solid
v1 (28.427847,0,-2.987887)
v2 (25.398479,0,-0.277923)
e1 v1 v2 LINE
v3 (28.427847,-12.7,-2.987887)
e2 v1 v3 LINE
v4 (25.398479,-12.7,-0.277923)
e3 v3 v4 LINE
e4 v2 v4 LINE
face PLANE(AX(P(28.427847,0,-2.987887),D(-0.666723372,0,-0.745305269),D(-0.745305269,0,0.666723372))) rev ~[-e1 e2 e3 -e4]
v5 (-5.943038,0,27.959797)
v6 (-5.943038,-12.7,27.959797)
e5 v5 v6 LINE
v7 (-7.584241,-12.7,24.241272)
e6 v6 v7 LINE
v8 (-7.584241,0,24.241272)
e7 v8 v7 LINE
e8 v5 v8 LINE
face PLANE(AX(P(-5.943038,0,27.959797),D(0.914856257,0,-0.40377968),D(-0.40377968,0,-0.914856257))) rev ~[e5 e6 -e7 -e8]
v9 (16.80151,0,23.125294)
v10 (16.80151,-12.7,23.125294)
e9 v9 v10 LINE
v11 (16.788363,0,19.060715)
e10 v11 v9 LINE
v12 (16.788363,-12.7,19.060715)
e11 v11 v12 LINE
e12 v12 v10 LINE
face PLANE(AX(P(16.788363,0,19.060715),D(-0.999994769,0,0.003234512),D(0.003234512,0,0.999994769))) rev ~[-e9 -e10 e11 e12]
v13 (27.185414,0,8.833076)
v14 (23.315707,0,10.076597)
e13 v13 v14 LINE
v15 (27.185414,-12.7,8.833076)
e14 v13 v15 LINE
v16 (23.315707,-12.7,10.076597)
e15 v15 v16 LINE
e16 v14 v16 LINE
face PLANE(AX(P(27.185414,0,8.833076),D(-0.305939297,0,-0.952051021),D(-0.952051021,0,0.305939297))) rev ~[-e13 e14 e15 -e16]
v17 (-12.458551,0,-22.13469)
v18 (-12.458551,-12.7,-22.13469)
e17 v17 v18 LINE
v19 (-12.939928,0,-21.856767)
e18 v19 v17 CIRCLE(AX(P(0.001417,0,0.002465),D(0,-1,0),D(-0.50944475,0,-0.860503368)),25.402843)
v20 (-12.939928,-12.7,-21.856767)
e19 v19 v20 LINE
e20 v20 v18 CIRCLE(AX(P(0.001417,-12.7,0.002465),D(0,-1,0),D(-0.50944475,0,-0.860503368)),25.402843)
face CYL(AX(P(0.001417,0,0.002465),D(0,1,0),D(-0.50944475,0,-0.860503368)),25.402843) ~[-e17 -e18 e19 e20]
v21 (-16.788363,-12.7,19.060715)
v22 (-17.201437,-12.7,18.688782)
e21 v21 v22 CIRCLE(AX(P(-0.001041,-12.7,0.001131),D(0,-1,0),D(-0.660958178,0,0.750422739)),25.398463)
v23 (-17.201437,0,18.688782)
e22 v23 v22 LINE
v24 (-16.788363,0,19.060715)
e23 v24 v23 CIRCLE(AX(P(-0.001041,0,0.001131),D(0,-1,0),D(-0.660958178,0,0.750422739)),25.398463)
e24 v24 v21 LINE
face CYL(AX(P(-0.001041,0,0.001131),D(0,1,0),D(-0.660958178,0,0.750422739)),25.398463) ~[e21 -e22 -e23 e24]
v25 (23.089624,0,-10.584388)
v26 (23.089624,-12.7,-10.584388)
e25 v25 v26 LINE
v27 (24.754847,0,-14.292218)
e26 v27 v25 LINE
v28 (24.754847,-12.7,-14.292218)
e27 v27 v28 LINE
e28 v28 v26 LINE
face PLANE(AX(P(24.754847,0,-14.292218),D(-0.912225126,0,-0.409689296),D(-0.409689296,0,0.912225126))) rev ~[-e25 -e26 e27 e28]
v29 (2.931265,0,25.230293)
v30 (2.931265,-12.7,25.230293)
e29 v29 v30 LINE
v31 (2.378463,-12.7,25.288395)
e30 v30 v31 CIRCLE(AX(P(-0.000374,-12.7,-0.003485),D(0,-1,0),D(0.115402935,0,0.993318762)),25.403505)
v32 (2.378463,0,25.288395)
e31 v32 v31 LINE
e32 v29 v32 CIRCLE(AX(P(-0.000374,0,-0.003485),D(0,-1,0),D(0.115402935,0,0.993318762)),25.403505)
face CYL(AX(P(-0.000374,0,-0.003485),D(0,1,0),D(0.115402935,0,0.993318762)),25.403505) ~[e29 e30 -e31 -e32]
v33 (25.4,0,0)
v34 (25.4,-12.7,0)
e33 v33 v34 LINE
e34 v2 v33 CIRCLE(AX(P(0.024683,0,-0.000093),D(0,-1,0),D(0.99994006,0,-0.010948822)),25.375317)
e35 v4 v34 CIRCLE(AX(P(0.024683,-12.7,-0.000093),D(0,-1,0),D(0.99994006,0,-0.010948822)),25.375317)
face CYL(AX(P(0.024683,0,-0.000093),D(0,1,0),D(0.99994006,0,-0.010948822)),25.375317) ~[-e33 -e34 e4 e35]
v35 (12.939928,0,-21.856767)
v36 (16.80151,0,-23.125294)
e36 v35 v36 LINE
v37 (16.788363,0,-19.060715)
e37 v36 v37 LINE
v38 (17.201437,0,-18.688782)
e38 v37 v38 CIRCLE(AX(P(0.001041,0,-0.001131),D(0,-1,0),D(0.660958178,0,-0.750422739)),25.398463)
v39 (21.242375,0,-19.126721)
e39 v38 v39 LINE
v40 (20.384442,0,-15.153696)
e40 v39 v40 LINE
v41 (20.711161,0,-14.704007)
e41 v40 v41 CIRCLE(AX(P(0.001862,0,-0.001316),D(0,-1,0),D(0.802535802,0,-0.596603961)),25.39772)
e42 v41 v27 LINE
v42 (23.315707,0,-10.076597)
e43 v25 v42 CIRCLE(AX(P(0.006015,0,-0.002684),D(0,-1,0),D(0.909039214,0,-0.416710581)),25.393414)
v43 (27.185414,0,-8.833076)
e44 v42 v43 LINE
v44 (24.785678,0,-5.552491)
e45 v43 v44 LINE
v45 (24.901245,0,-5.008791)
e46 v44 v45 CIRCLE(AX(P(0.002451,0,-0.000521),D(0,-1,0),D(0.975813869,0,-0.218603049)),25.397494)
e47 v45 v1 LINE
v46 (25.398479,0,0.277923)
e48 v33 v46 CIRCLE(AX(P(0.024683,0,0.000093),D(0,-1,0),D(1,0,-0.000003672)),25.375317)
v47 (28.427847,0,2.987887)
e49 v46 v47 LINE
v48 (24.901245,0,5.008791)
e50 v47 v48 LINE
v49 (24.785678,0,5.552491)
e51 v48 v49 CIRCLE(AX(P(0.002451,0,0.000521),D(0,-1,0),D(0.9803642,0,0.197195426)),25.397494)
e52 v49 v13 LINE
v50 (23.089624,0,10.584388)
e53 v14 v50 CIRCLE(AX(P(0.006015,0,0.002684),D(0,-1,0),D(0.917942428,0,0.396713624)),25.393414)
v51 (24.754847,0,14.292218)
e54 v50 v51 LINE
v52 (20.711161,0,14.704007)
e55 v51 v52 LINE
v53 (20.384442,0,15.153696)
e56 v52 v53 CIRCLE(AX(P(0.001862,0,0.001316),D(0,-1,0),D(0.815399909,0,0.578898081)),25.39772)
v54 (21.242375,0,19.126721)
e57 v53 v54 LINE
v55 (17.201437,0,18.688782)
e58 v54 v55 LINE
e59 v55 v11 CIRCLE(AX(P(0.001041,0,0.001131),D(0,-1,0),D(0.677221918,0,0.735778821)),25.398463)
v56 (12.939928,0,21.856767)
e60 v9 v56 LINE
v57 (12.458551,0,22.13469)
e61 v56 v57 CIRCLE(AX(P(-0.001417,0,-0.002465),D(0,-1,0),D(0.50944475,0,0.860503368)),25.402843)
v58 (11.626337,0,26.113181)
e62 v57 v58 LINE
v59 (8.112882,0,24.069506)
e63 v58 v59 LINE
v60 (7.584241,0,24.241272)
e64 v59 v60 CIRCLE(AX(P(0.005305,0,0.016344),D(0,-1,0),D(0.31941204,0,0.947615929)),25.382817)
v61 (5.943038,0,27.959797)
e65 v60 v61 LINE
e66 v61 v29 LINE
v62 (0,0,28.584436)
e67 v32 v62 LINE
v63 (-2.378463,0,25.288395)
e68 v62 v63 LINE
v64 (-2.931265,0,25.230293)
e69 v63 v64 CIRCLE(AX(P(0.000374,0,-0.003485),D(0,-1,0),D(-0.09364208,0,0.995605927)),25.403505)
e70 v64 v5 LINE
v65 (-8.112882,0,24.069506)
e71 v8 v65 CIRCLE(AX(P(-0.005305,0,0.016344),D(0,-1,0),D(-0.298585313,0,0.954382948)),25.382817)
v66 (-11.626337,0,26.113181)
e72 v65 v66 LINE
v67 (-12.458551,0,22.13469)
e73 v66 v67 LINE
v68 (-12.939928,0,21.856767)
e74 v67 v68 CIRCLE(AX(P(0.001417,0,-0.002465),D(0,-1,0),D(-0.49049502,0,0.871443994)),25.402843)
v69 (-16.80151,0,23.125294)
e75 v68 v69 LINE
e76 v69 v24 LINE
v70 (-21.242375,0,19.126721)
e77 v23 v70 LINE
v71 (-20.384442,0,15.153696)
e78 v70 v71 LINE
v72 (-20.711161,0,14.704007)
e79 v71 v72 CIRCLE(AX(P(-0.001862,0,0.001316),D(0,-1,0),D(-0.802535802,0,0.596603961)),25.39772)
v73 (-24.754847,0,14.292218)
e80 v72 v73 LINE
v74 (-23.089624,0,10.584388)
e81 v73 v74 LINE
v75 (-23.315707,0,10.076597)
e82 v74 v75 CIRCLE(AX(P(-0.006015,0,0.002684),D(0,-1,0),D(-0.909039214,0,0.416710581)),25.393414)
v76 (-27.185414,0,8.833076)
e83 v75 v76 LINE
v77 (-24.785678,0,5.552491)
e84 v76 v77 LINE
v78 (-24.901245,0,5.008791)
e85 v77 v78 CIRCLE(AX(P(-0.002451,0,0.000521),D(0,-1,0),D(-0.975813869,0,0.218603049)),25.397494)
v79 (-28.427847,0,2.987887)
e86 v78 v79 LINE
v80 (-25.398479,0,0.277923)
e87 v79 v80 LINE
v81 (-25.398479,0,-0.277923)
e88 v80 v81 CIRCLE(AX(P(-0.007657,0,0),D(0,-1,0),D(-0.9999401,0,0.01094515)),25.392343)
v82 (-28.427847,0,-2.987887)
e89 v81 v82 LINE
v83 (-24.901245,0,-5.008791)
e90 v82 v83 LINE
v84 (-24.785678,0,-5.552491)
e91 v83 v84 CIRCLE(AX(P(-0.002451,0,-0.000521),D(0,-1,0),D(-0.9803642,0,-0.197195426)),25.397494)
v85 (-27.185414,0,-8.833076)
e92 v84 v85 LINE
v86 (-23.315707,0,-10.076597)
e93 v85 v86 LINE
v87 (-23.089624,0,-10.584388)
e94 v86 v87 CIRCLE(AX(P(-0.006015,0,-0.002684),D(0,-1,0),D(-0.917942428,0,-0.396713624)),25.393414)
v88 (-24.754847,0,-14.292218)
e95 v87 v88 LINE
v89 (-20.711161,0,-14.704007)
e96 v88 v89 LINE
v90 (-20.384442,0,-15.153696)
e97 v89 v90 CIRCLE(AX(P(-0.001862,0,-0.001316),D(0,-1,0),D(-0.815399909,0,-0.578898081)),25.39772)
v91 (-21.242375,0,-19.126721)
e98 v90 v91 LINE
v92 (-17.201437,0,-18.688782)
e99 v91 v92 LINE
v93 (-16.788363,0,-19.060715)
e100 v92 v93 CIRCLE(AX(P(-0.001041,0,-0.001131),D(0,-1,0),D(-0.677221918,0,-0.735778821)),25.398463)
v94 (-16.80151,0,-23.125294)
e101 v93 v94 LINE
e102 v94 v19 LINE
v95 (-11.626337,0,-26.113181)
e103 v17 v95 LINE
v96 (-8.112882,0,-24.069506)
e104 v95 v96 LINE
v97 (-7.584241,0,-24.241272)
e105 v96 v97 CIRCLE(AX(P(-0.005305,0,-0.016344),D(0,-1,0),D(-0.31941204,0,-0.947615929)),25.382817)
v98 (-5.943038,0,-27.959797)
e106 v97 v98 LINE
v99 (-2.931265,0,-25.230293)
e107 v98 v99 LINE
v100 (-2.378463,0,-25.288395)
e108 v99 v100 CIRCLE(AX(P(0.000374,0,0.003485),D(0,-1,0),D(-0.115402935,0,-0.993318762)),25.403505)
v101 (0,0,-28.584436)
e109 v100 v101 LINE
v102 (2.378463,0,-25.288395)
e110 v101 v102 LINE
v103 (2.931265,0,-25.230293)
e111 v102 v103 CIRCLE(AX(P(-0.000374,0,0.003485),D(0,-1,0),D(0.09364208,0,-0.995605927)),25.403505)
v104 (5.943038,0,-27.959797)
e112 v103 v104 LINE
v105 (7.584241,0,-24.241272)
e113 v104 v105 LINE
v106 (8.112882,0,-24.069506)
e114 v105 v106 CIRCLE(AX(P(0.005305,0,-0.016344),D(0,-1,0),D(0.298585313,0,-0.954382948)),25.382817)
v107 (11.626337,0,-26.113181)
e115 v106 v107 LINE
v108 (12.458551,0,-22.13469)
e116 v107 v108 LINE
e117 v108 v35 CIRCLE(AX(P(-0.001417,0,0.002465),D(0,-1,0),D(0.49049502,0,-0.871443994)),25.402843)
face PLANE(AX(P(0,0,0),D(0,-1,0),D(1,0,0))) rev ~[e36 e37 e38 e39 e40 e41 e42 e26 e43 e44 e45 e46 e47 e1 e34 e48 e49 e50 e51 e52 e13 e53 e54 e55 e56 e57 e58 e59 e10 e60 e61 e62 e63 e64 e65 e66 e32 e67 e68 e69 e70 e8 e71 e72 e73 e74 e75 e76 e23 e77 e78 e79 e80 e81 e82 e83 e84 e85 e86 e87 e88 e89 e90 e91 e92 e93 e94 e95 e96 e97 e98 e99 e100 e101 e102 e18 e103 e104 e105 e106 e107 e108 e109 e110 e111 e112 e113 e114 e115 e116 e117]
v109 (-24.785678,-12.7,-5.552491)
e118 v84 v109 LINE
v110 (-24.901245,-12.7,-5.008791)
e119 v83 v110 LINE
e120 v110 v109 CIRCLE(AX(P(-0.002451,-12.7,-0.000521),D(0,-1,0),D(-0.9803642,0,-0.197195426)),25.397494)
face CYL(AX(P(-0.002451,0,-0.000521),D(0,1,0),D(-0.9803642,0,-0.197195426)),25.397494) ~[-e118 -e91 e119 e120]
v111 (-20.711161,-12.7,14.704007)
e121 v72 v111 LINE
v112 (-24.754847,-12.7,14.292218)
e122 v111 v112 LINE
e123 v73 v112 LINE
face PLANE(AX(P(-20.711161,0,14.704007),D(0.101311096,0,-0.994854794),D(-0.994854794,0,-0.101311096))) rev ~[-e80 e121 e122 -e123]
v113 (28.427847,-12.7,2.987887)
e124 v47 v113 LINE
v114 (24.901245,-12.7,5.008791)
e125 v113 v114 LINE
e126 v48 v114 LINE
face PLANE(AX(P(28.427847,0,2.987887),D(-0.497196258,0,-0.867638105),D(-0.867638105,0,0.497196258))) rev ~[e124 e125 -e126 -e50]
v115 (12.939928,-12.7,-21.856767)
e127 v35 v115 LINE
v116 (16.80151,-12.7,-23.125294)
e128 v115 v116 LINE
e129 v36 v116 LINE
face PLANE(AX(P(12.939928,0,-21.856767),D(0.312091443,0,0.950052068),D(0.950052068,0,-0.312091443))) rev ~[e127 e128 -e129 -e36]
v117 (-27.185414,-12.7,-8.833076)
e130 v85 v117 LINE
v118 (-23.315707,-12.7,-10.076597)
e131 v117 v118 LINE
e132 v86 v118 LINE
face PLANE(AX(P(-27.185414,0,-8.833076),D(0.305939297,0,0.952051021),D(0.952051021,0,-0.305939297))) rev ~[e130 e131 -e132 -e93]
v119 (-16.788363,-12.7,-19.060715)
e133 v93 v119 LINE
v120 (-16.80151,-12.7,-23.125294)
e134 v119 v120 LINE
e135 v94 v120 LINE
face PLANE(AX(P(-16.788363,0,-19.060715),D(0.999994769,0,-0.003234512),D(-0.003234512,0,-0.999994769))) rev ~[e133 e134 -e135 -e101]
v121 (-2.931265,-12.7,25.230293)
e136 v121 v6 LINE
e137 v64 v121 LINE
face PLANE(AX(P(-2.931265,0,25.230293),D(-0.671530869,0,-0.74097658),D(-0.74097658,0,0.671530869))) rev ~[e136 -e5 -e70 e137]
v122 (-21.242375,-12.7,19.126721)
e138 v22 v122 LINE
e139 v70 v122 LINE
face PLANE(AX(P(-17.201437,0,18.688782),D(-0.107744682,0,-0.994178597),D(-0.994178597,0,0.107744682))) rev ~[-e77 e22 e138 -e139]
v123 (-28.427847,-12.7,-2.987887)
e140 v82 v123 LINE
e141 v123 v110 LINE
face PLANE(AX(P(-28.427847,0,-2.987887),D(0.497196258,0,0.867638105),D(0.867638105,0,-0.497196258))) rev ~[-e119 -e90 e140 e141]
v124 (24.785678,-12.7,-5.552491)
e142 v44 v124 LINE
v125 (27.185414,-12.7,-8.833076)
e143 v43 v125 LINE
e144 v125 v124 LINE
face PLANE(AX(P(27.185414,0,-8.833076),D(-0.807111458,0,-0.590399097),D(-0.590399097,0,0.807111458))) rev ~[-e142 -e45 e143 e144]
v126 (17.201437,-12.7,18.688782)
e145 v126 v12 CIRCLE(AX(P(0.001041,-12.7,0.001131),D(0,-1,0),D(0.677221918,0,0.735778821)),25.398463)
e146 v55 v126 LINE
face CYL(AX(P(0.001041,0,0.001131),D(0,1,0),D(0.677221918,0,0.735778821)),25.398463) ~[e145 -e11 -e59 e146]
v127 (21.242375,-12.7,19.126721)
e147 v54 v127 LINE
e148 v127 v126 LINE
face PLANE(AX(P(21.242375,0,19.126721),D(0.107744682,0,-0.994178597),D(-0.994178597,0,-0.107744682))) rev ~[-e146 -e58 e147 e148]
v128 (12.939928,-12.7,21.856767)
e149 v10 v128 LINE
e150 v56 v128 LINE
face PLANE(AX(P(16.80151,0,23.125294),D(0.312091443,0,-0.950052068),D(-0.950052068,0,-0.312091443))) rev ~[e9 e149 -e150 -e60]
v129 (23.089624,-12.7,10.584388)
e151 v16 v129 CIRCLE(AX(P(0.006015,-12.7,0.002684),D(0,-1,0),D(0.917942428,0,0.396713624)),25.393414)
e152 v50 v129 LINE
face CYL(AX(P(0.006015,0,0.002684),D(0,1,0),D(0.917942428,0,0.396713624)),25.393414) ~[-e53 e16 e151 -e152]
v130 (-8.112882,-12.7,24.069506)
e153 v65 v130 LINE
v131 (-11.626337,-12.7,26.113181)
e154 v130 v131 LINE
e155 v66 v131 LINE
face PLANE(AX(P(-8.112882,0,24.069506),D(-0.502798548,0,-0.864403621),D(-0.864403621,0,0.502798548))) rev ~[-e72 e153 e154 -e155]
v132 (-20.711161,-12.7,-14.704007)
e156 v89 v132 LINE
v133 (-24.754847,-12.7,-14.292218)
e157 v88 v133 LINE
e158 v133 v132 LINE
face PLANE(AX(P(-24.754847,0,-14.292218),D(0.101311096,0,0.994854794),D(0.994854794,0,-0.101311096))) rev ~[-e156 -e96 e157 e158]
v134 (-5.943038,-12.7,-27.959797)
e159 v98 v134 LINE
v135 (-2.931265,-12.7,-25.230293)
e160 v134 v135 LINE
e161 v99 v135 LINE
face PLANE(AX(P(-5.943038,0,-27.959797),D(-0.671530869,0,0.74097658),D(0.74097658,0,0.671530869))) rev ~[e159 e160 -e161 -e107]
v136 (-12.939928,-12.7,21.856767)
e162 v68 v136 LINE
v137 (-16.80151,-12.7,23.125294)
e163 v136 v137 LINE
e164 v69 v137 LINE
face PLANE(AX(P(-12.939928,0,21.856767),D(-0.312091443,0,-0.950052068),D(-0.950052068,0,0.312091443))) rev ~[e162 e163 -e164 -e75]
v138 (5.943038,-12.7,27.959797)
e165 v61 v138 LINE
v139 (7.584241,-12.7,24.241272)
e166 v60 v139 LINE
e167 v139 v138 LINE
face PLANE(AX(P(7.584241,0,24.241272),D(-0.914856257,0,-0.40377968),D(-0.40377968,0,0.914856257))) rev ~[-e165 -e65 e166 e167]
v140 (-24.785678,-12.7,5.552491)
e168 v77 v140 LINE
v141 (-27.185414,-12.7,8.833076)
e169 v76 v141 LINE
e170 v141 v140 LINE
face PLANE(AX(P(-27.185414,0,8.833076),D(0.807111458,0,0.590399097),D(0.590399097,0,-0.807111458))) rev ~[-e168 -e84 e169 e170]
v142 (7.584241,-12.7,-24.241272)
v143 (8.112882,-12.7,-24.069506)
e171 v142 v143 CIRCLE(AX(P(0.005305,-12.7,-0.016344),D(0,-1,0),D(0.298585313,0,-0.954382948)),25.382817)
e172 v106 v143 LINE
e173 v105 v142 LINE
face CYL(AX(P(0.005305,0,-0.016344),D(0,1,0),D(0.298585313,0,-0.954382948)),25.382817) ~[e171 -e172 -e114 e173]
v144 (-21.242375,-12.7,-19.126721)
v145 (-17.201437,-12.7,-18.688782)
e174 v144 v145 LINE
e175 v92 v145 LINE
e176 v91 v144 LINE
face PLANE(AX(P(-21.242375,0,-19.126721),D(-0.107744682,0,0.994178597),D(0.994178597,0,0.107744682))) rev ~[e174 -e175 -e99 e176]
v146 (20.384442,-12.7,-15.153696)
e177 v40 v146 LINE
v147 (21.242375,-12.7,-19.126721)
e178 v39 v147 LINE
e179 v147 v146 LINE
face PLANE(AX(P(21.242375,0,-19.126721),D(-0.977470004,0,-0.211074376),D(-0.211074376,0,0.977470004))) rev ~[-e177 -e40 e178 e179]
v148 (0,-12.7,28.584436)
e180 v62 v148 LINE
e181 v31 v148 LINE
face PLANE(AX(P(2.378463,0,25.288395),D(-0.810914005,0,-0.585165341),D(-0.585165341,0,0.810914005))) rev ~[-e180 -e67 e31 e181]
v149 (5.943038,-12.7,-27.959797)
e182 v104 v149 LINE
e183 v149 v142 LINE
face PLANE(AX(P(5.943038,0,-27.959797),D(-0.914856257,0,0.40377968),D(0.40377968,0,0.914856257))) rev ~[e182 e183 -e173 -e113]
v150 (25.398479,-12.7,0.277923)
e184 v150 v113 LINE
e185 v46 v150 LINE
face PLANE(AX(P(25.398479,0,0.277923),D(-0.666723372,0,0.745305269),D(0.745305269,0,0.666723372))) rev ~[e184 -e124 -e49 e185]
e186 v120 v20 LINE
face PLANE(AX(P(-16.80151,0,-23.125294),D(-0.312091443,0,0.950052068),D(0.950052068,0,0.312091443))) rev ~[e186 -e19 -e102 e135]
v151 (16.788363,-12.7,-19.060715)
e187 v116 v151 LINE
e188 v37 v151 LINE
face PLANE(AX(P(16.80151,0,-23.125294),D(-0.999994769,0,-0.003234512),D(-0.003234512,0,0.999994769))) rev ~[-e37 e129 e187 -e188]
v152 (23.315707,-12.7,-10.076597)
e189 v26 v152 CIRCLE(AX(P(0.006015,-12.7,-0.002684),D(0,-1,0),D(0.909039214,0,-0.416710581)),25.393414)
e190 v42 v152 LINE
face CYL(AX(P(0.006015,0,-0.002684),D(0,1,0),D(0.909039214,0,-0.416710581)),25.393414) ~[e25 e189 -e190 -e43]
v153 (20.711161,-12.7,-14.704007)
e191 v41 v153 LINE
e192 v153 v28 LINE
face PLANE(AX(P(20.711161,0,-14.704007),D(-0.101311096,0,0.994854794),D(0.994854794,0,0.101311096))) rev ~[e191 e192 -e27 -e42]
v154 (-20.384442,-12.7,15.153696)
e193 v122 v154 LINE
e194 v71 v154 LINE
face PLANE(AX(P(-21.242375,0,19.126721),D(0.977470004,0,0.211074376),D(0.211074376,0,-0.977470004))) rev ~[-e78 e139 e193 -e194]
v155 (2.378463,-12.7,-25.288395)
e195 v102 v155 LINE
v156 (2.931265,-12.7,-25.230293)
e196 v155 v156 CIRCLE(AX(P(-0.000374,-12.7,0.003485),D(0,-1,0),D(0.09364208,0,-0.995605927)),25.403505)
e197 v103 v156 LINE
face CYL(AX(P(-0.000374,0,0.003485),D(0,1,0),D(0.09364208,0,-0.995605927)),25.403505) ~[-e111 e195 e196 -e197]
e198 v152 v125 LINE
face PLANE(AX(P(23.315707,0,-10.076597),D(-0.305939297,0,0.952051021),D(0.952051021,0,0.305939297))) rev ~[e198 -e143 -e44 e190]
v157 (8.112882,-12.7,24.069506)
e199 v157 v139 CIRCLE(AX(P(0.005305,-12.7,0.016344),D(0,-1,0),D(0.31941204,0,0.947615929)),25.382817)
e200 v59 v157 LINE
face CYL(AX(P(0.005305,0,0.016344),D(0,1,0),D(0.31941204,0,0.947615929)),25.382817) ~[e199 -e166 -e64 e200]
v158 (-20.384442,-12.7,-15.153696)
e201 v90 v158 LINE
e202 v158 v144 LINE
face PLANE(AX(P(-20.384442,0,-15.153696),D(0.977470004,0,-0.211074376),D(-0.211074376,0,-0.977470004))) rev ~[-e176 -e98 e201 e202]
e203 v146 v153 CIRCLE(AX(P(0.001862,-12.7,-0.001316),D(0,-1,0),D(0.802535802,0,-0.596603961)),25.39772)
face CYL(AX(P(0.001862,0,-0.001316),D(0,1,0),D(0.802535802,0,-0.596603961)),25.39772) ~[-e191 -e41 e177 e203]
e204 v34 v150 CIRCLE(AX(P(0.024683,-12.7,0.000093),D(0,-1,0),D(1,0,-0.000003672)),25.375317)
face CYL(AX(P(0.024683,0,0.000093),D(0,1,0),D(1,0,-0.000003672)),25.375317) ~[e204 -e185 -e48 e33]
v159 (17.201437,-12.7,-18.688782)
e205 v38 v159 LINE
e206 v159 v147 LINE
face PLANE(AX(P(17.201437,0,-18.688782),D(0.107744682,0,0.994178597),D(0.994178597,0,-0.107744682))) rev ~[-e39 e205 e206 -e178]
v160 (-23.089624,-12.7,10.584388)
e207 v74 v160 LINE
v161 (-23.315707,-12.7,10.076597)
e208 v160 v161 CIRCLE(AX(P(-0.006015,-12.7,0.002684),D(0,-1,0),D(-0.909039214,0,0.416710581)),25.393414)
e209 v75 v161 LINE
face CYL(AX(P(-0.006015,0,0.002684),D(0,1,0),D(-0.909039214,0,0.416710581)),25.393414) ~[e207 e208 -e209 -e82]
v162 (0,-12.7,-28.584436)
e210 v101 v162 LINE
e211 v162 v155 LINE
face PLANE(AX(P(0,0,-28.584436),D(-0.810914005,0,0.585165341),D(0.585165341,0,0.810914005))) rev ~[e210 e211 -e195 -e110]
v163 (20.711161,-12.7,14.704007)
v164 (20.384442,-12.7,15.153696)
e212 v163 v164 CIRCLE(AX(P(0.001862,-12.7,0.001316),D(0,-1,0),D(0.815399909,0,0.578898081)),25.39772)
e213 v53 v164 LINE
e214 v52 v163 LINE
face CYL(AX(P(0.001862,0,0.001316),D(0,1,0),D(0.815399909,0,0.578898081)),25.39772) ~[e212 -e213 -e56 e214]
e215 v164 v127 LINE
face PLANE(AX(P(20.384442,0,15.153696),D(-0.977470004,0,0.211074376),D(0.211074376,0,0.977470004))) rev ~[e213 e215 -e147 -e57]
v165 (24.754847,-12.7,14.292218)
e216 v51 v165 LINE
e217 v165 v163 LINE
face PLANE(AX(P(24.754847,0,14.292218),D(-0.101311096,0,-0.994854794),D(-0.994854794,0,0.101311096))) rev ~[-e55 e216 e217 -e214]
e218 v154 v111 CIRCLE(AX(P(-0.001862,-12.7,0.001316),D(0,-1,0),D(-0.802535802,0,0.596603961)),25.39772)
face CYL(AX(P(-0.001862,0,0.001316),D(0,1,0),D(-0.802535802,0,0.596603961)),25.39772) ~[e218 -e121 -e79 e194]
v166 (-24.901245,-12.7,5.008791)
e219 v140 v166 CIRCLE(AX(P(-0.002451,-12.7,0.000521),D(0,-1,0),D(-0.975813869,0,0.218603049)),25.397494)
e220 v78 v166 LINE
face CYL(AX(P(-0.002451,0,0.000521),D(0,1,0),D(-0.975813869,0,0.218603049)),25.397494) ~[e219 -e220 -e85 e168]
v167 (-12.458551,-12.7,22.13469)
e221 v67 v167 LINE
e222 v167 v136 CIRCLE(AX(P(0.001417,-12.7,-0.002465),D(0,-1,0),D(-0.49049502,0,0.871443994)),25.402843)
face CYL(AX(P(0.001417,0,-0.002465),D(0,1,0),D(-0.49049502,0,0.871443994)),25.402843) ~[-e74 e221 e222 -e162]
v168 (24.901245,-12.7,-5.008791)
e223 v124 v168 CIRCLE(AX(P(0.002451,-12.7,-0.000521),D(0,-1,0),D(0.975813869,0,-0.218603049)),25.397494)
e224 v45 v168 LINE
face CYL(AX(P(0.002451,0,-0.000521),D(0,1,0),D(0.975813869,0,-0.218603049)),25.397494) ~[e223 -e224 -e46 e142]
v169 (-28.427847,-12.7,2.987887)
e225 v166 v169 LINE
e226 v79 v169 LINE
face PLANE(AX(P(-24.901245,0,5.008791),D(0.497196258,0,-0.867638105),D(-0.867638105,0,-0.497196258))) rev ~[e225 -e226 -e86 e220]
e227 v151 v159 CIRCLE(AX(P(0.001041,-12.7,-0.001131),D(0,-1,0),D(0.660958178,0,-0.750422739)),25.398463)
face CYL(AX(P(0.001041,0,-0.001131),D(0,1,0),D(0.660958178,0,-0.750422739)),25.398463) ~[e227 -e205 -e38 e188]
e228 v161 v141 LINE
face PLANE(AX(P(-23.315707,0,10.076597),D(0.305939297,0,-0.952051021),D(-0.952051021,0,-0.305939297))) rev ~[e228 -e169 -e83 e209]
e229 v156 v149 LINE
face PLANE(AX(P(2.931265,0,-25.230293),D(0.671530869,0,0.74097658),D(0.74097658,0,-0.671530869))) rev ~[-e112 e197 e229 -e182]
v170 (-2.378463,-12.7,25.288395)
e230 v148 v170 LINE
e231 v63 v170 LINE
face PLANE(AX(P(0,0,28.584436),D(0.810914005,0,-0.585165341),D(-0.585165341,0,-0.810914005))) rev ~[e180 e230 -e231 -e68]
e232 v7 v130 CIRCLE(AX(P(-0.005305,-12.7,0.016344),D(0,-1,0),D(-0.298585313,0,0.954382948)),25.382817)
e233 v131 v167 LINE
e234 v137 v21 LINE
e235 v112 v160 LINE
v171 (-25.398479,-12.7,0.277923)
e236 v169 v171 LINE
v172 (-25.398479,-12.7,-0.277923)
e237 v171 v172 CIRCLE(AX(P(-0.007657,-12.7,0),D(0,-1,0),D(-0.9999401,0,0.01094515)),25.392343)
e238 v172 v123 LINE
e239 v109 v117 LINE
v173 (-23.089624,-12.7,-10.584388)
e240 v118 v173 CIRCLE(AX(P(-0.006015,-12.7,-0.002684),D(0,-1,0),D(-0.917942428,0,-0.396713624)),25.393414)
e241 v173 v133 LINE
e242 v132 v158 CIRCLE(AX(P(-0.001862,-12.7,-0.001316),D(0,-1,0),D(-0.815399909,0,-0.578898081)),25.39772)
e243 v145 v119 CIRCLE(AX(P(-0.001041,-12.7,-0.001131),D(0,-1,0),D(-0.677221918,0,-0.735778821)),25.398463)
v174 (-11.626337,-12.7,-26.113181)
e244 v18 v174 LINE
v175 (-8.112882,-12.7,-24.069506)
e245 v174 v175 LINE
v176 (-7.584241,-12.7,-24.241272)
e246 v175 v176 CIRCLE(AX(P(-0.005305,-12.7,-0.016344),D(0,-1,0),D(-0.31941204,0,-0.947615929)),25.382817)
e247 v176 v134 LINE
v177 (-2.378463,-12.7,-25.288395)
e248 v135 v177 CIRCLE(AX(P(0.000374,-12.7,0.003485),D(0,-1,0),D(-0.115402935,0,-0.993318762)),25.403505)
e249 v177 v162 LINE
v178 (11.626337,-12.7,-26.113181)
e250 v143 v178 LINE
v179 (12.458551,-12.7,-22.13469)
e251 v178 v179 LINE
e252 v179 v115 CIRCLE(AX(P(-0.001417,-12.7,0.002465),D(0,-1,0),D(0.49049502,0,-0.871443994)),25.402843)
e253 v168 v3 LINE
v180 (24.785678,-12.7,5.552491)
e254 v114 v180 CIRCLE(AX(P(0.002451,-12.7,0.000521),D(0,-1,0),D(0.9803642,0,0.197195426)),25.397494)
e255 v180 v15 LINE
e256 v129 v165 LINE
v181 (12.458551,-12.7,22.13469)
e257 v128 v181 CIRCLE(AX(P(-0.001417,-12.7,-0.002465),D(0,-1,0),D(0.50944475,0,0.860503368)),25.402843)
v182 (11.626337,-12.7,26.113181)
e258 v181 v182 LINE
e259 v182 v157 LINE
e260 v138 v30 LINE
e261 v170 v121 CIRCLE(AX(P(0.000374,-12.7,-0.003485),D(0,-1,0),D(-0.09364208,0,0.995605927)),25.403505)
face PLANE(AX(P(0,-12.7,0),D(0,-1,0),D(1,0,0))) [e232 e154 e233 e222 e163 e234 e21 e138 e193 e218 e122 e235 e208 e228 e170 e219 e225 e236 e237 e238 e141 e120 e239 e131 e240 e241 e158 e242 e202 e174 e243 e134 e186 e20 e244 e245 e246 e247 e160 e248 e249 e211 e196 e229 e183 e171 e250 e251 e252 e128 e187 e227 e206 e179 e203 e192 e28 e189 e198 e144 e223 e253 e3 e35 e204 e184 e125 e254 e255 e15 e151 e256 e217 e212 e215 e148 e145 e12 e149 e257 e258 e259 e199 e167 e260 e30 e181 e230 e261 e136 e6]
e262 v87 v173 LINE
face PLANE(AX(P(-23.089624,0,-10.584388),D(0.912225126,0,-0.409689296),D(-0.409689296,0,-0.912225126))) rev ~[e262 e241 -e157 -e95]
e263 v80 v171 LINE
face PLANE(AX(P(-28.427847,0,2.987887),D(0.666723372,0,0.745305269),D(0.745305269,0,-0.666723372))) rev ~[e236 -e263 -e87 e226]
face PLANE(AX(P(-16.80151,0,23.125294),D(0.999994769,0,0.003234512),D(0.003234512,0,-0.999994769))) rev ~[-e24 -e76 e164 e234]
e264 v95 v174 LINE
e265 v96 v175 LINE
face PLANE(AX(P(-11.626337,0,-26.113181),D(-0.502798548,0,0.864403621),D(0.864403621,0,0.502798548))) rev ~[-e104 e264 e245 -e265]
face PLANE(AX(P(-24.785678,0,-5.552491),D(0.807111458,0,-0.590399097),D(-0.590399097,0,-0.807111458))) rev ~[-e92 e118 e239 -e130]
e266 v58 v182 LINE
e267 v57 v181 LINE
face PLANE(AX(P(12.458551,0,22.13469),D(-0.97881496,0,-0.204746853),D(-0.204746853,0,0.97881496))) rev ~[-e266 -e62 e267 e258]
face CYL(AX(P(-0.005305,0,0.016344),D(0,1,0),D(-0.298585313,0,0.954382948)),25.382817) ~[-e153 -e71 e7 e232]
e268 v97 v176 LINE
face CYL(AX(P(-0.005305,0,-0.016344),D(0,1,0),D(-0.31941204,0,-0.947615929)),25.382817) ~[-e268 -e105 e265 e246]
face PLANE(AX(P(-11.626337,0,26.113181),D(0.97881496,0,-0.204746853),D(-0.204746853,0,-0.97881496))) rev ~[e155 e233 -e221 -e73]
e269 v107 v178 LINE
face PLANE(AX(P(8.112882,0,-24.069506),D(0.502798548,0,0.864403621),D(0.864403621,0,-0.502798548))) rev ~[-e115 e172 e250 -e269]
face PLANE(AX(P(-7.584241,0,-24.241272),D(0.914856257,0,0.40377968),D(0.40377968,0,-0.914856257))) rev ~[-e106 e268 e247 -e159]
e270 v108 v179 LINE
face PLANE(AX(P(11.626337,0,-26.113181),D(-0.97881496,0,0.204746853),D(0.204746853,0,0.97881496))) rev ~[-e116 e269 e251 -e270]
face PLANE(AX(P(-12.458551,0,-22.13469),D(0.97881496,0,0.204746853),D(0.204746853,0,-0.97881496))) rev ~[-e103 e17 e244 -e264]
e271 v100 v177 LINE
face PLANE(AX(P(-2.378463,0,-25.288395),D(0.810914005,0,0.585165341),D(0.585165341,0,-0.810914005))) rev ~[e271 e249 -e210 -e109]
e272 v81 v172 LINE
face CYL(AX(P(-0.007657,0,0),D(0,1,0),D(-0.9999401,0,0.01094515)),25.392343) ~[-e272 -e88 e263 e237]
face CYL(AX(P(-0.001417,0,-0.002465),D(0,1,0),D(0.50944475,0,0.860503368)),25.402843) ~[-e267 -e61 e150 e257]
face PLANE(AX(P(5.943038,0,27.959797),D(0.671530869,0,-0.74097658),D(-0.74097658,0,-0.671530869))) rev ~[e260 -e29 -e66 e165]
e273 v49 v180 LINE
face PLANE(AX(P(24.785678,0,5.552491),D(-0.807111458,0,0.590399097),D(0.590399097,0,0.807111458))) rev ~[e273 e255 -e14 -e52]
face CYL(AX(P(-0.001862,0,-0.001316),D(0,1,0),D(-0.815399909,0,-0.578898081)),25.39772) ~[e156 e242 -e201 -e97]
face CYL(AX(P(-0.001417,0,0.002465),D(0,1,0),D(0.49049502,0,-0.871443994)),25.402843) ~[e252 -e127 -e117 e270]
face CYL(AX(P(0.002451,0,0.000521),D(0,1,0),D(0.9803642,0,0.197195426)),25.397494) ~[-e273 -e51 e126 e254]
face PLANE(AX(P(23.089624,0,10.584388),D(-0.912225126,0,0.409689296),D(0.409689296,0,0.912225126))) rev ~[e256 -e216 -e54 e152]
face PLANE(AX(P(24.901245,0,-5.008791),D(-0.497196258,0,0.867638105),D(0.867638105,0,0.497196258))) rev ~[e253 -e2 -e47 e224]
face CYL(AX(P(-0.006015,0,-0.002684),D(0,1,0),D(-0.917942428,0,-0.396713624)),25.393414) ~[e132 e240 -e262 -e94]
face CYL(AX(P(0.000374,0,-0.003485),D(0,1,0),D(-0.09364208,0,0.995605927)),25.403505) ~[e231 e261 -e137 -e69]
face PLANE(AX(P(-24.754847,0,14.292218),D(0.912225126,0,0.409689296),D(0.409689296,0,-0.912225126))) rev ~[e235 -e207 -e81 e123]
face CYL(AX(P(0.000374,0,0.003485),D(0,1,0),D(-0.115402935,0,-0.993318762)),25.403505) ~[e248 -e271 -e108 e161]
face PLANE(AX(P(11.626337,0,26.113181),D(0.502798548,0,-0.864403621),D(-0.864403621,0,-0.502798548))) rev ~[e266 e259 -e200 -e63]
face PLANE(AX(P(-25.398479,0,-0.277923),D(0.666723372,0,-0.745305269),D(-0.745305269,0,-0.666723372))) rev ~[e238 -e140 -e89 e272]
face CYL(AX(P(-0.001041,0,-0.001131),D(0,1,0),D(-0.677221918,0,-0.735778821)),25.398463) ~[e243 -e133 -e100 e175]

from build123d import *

# Parameters (mm, degrees)
F1_DEPTH = 12.7


with BuildPart() as f1:
    # F0 (on Front) → F1 (new body)
    with BuildSketch(Plane.XZ):
        with BuildLine():
            ThreePointArc((25.398479, -0.277923), (25.39962, -0.138964), (25.4, 0))
            ThreePointArc((25.4, 0), (25.39962, 0.138964), (25.398479, 0.277923))
            ThreePointArc((25.398479, 0.277923), (25.260856, 2.655023), (24.901245, 5.008791))
            ThreePointArc((24.901245, 5.008791), (24.844949, 5.280957), (24.785678, 5.552491))
            ThreePointArc((24.785678, 5.552491), (24.156836, 7.849032), (23.315707, 10.076597))
            ThreePointArc((23.315707, 10.076597), (23.204055, 10.331111), (23.089624, 10.584388))
            ThreePointArc((23.089624, 10.584388), (21.997045, 12.7), (20.711161, 14.704007))
            ThreePointArc((20.711161, 14.704007), (20.549032, 14.929745), (20.384442, 15.153696))
            ThreePointArc((20.384442, 15.153696), (18.875879, 16.995917), (17.201437, 18.688782))
            ThreePointArc((17.201437, 18.688782), (16.995917, 18.875879), (16.788363, 19.060715))
            ThreePointArc((16.788363, 19.060715), (14.929745, 20.549032), (12.939928, 21.856767))
            ThreePointArc((12.939928, 21.856767), (12.7, 21.997045), (12.458551, 22.13469))
            ThreePointArc((12.458551, 22.13469), (10.331111, 23.204055), (8.112882, 24.069506))
            ThreePointArc((8.112882, 24.069506), (7.849032, 24.156836), (7.584241, 24.241272))
            ThreePointArc((7.584241, 24.241272), (5.280957, 24.844949), (2.931265, 25.230293))
            ThreePointArc((2.931265, 25.230293), (2.655023, 25.260856), (2.378463, 25.288395))
            ThreePointArc((2.378463, 25.288395), (0, 25.4), (-2.378463, 25.288395))
            ThreePointArc((-2.378463, 25.288395), (-2.655023, 25.260856), (-2.931265, 25.230293))
            ThreePointArc((-2.931265, 25.230293), (-5.280957, 24.844949), (-7.584241, 24.241272))
            ThreePointArc((-7.584241, 24.241272), (-7.849032, 24.156836), (-8.112882, 24.069506))
            ThreePointArc((-8.112882, 24.069506), (-10.331111, 23.204055), (-12.458551, 22.13469))
            ThreePointArc((-12.458551, 22.13469), (-12.7, 21.997045), (-12.939928, 21.856767))
            ThreePointArc((-12.939928, 21.856767), (-14.929745, 20.549032), (-16.788363, 19.060715))
            ThreePointArc((-16.788363, 19.060715), (-16.995917, 18.875879), (-17.201437, 18.688782))
            ThreePointArc((-17.201437, 18.688782), (-18.875879, 16.995917), (-20.384442, 15.153696))
            ThreePointArc((-20.384442, 15.153696), (-20.549032, 14.929745), (-20.711161, 14.704007))
            ThreePointArc((-20.711161, 14.704007), (-21.997045, 12.7), (-23.089624, 10.584388))
            ThreePointArc((-23.089624, 10.584388), (-23.204055, 10.331111), (-23.315707, 10.076597))
            ThreePointArc((-23.315707, 10.076597), (-24.156836, 7.849032), (-24.785678, 5.552491))
            ThreePointArc((-24.785678, 5.552491), (-24.844949, 5.280957), (-24.901245, 5.008791))
            ThreePointArc((-24.901245, 5.008791), (-25.260856, 2.655023), (-25.398479, 0.277923))
            ThreePointArc((-25.398479, 0.277923), (-25.4, 0), (-25.398479, -0.277923))
            ThreePointArc((-25.398479, -0.277923), (-25.260856, -2.655023), (-24.901245, -5.008791))
            ThreePointArc((-24.901245, -5.008791), (-24.844949, -5.280957), (-24.785678, -5.552491))
            ThreePointArc((-24.785678, -5.552491), (-24.156836, -7.849032), (-23.315707, -10.076597))
            ThreePointArc((-23.315707, -10.076597), (-23.204055, -10.331111), (-23.089624, -10.584388))
            ThreePointArc((-23.089624, -10.584388), (-21.997045, -12.7), (-20.711161, -14.704007))
            ThreePointArc((-20.711161, -14.704007), (-20.549032, -14.929745), (-20.384442, -15.153696))
            ThreePointArc((-20.384442, -15.153696), (-18.875879, -16.995917), (-17.201437, -18.688782))
            ThreePointArc((-17.201437, -18.688782), (-16.995917, -18.875879), (-16.788363, -19.060715))
            ThreePointArc((-16.788363, -19.060715), (-14.929745, -20.549032), (-12.939928, -21.856767))
            ThreePointArc((-12.939928, -21.856767), (-12.7, -21.997045), (-12.458551, -22.13469))
            ThreePointArc((-12.458551, -22.13469), (-10.331111, -23.204055), (-8.112882, -24.069506))
            ThreePointArc((-8.112882, -24.069506), (-7.849032, -24.156836), (-7.584241, -24.241272))
            ThreePointArc((-7.584241, -24.241272), (-5.280957, -24.844949), (-2.931265, -25.230293))
            ThreePointArc((-2.931265, -25.230293), (-2.655023, -25.260856), (-2.378463, -25.288395))
            ThreePointArc((-2.378463, -25.288395), (0, -25.4), (2.378463, -25.288395))
            ThreePointArc((2.378463, -25.288395), (2.655023, -25.260856), (2.931265, -25.230293))
            ThreePointArc((2.931265, -25.230293), (5.280957, -24.844949), (7.584241, -24.241272))
            ThreePointArc((7.584241, -24.241272), (7.849032, -24.156836), (8.112882, -24.069506))
            ThreePointArc((8.112882, -24.069506), (10.331111, -23.204055), (12.458551, -22.13469))
            ThreePointArc((12.458551, -22.13469), (12.7, -21.997045), (12.939928, -21.856767))
            ThreePointArc((12.939928, -21.856767), (14.929745, -20.549032), (16.788363, -19.060715))
            ThreePointArc((16.788363, -19.060715), (16.995917, -18.875879), (17.201437, -18.688782))
            ThreePointArc((17.201437, -18.688782), (18.875879, -16.995917), (20.384442, -15.153696))
            ThreePointArc((20.384442, -15.153696), (20.549032, -14.929745), (20.711161, -14.704007))
            ThreePointArc((20.711161, -14.704007), (21.997045, -12.7), (23.089624, -10.584388))
            ThreePointArc((23.089624, -10.584388), (23.204055, -10.331111), (23.315707, -10.076597))
            ThreePointArc((23.315707, -10.076597), (24.156836, -7.849032), (24.785678, -5.552491))
            ThreePointArc((24.785678, -5.552491), (24.844949, -5.280957), (24.901245, -5.008791))
            ThreePointArc((24.901245, -5.008791), (25.260856, -2.655023), (25.398479, -0.277923))
        make_face()
        with BuildLine():
            ThreePointArc((24.901245, 5.008791), (25.260856, 2.655023), (25.398479, 0.277923))
            Line((25.398479, 0.277923), (28.427847, 2.987887))
            Line((28.427847, 2.987887), (24.901245, 5.008791))
        make_face()
        with BuildLine():
            Line((28.427847, -2.987887), (25.398479, -0.277923))
            ThreePointArc((25.398479, -0.277923), (25.260856, -2.655023), (24.901245, -5.008791))
            Line((24.901245, -5.008791), (28.427847, -2.987887))
        make_face()
        with BuildLine():
            ThreePointArc((23.315707, 10.076597), (24.156836, 7.849032), (24.785678, 5.552491))
            Line((24.785678, 5.552491), (27.185414, 8.833076))
            Line((27.185414, 8.833076), (23.315707, 10.076597))
        make_face()
        with BuildLine():
            Line((27.185414, -8.833076), (24.785678, -5.552491))
            ThreePointArc((24.785678, -5.552491), (24.156836, -7.849032), (23.315707, -10.076597))
            Line((23.315707, -10.076597), (27.185414, -8.833076))
        make_face()
        with BuildLine():
            ThreePointArc((20.711161, 14.704007), (21.997045, 12.7), (23.089624, 10.584388))
            Line((23.089624, 10.584388), (24.754847, 14.292218))
            Line((24.754847, 14.292218), (20.711161, 14.704007))
        make_face()
        with BuildLine():
            Line((24.754847, -14.292218), (23.089624, -10.584388))
            ThreePointArc((23.089624, -10.584388), (21.997045, -12.7), (20.711161, -14.704007))
            Line((20.711161, -14.704007), (24.754847, -14.292218))
        make_face()
        with BuildLine():
            ThreePointArc((17.201437, 18.688782), (18.875879, 16.995917), (20.384442, 15.153696))
            Line((20.384442, 15.153696), (21.242375, 19.126721))
            Line((21.242375, 19.126721), (17.201437, 18.688782))
        make_face()
        with BuildLine():
            Line((21.242375, -19.126721), (20.384442, -15.153696))
            ThreePointArc((20.384442, -15.153696), (18.875879, -16.995917), (17.201437, -18.688782))
            Line((17.201437, -18.688782), (21.242375, -19.126721))
        make_face()
        with BuildLine():
            ThreePointArc((12.939928, 21.856767), (14.929745, 20.549032), (16.788363, 19.060715))
            Line((16.788363, 19.060715), (16.80151, 23.125294))
            Line((16.80151, 23.125294), (12.939928, 21.856767))
        make_face()
        with BuildLine():
            Line((16.80151, -23.125294), (16.788363, -19.060715))
            ThreePointArc((16.788363, -19.060715), (14.929745, -20.549032), (12.939928, -21.856767))
            Line((12.939928, -21.856767), (16.80151, -23.125294))
        make_face()
        with BuildLine():
            ThreePointArc((8.112882, 24.069506), (10.331111, 23.204055), (12.458551, 22.13469))
            Line((12.458551, 22.13469), (11.626337, 26.113181))
            Line((11.626337, 26.113181), (8.112882, 24.069506))
        make_face()
        with BuildLine():
            Line((11.626337, -26.113181), (12.458551, -22.13469))
            ThreePointArc((12.458551, -22.13469), (10.331111, -23.204055), (8.112882, -24.069506))
            Line((8.112882, -24.069506), (11.626337, -26.113181))
        make_face()
        with BuildLine():
            ThreePointArc((2.931265, 25.230293), (5.280957, 24.844949), (7.584241, 24.241272))
            Line((7.584241, 24.241272), (5.943038, 27.959797))
            Line((5.943038, 27.959797), (2.931265, 25.230293))
        make_face()
        with BuildLine():
            Line((5.943038, -27.959797), (7.584241, -24.241272))
            ThreePointArc((7.584241, -24.241272), (5.280957, -24.844949), (2.931265, -25.230293))
            Line((2.931265, -25.230293), (5.943038, -27.959797))
        make_face()
        with BuildLine():
            ThreePointArc((-2.378463, 25.288395), (0, 25.4), (2.378463, 25.288395))
            Line((2.378463, 25.288395), (0, 28.584436))
            Line((0, 28.584436), (-2.378463, 25.288395))
        make_face()
        with BuildLine():
            Line((0, -28.584436), (2.378463, -25.288395))
            ThreePointArc((2.378463, -25.288395), (0, -25.4), (-2.378463, -25.288395))
            Line((-2.378463, -25.288395), (0, -28.584436))
        make_face()
        with BuildLine():
            ThreePointArc((-7.584241, 24.241272), (-5.280957, 24.844949), (-2.931265, 25.230293))
            Line((-2.931265, 25.230293), (-5.943038, 27.959797))
            Line((-5.943038, 27.959797), (-7.584241, 24.241272))
        make_face()
        with BuildLine():
            Line((-5.943038, -27.959797), (-2.931265, -25.230293))
            ThreePointArc((-2.931265, -25.230293), (-5.280957, -24.844949), (-7.584241, -24.241272))
            Line((-7.584241, -24.241272), (-5.943038, -27.959797))
        make_face()
        with BuildLine():
            ThreePointArc((-12.458551, 22.13469), (-10.331111, 23.204055), (-8.112882, 24.069506))
            Line((-8.112882, 24.069506), (-11.626337, 26.113181))
            Line((-11.626337, 26.113181), (-12.458551, 22.13469))
        make_face()
        with BuildLine():
            Line((-11.626337, -26.113181), (-8.112882, -24.069506))
            ThreePointArc((-8.112882, -24.069506), (-10.331111, -23.204055), (-12.458551, -22.13469))
            Line((-12.458551, -22.13469), (-11.626337, -26.113181))
        make_face()
        with BuildLine():
            ThreePointArc((-16.788363, 19.060715), (-14.929745, 20.549032), (-12.939928, 21.856767))
            Line((-12.939928, 21.856767), (-16.80151, 23.125294))
            Line((-16.80151, 23.125294), (-16.788363, 19.060715))
        make_face()
        with BuildLine():
            Line((-16.80151, -23.125294), (-12.939928, -21.856767))
            ThreePointArc((-12.939928, -21.856767), (-14.929745, -20.549032), (-16.788363, -19.060715))
            Line((-16.788363, -19.060715), (-16.80151, -23.125294))
        make_face()
        with BuildLine():
            ThreePointArc((-20.384442, 15.153696), (-18.875879, 16.995917), (-17.201437, 18.688782))
            Line((-17.201437, 18.688782), (-21.242375, 19.126721))
            Line((-21.242375, 19.126721), (-20.384442, 15.153696))
        make_face()
        with BuildLine():
            Line((-21.242375, -19.126721), (-17.201437, -18.688782))
            ThreePointArc((-17.201437, -18.688782), (-18.875879, -16.995917), (-20.384442, -15.153696))
            Line((-20.384442, -15.153696), (-21.242375, -19.126721))
        make_face()
        with BuildLine():
            ThreePointArc((-23.089624, 10.584388), (-21.997045, 12.7), (-20.711161, 14.704007))
            Line((-20.711161, 14.704007), (-24.754847, 14.292218))
            Line((-24.754847, 14.292218), (-23.089624, 10.584388))
        make_face()
        with BuildLine():
            Line((-24.754847, -14.292218), (-20.711161, -14.704007))
            ThreePointArc((-20.711161, -14.704007), (-21.997045, -12.7), (-23.089624, -10.584388))
            Line((-23.089624, -10.584388), (-24.754847, -14.292218))
        make_face()
        with BuildLine():
            ThreePointArc((-24.785678, 5.552491), (-24.156836, 7.849032), (-23.315707, 10.076597))
            Line((-23.315707, 10.076597), (-27.185414, 8.833076))
            Line((-27.185414, 8.833076), (-24.785678, 5.552491))
        make_face()
        with BuildLine():
            Line((-27.185414, -8.833076), (-23.315707, -10.076597))
            ThreePointArc((-23.315707, -10.076597), (-24.156836, -7.849032), (-24.785678, -5.552491))
            Line((-24.785678, -5.552491), (-27.185414, -8.833076))
        make_face()
        with BuildLine():
            ThreePointArc((-25.398479, 0.277923), (-25.260856, 2.655023), (-24.901245, 5.008791))
            Line((-24.901245, 5.008791), (-28.427847, 2.987887))
            Line((-28.427847, 2.987887), (-25.398479, 0.277923))
        make_face()
        with BuildLine():
            Line((-28.427847, -2.987887), (-24.901245, -5.008791))
            ThreePointArc((-24.901245, -5.008791), (-25.260856, -2.655023), (-25.398479, -0.277923))
            Line((-25.398479, -0.277923), (-28.427847, -2.987887))
        make_face()
    extrude(amount=F1_DEPTH)


solid = f1.part
